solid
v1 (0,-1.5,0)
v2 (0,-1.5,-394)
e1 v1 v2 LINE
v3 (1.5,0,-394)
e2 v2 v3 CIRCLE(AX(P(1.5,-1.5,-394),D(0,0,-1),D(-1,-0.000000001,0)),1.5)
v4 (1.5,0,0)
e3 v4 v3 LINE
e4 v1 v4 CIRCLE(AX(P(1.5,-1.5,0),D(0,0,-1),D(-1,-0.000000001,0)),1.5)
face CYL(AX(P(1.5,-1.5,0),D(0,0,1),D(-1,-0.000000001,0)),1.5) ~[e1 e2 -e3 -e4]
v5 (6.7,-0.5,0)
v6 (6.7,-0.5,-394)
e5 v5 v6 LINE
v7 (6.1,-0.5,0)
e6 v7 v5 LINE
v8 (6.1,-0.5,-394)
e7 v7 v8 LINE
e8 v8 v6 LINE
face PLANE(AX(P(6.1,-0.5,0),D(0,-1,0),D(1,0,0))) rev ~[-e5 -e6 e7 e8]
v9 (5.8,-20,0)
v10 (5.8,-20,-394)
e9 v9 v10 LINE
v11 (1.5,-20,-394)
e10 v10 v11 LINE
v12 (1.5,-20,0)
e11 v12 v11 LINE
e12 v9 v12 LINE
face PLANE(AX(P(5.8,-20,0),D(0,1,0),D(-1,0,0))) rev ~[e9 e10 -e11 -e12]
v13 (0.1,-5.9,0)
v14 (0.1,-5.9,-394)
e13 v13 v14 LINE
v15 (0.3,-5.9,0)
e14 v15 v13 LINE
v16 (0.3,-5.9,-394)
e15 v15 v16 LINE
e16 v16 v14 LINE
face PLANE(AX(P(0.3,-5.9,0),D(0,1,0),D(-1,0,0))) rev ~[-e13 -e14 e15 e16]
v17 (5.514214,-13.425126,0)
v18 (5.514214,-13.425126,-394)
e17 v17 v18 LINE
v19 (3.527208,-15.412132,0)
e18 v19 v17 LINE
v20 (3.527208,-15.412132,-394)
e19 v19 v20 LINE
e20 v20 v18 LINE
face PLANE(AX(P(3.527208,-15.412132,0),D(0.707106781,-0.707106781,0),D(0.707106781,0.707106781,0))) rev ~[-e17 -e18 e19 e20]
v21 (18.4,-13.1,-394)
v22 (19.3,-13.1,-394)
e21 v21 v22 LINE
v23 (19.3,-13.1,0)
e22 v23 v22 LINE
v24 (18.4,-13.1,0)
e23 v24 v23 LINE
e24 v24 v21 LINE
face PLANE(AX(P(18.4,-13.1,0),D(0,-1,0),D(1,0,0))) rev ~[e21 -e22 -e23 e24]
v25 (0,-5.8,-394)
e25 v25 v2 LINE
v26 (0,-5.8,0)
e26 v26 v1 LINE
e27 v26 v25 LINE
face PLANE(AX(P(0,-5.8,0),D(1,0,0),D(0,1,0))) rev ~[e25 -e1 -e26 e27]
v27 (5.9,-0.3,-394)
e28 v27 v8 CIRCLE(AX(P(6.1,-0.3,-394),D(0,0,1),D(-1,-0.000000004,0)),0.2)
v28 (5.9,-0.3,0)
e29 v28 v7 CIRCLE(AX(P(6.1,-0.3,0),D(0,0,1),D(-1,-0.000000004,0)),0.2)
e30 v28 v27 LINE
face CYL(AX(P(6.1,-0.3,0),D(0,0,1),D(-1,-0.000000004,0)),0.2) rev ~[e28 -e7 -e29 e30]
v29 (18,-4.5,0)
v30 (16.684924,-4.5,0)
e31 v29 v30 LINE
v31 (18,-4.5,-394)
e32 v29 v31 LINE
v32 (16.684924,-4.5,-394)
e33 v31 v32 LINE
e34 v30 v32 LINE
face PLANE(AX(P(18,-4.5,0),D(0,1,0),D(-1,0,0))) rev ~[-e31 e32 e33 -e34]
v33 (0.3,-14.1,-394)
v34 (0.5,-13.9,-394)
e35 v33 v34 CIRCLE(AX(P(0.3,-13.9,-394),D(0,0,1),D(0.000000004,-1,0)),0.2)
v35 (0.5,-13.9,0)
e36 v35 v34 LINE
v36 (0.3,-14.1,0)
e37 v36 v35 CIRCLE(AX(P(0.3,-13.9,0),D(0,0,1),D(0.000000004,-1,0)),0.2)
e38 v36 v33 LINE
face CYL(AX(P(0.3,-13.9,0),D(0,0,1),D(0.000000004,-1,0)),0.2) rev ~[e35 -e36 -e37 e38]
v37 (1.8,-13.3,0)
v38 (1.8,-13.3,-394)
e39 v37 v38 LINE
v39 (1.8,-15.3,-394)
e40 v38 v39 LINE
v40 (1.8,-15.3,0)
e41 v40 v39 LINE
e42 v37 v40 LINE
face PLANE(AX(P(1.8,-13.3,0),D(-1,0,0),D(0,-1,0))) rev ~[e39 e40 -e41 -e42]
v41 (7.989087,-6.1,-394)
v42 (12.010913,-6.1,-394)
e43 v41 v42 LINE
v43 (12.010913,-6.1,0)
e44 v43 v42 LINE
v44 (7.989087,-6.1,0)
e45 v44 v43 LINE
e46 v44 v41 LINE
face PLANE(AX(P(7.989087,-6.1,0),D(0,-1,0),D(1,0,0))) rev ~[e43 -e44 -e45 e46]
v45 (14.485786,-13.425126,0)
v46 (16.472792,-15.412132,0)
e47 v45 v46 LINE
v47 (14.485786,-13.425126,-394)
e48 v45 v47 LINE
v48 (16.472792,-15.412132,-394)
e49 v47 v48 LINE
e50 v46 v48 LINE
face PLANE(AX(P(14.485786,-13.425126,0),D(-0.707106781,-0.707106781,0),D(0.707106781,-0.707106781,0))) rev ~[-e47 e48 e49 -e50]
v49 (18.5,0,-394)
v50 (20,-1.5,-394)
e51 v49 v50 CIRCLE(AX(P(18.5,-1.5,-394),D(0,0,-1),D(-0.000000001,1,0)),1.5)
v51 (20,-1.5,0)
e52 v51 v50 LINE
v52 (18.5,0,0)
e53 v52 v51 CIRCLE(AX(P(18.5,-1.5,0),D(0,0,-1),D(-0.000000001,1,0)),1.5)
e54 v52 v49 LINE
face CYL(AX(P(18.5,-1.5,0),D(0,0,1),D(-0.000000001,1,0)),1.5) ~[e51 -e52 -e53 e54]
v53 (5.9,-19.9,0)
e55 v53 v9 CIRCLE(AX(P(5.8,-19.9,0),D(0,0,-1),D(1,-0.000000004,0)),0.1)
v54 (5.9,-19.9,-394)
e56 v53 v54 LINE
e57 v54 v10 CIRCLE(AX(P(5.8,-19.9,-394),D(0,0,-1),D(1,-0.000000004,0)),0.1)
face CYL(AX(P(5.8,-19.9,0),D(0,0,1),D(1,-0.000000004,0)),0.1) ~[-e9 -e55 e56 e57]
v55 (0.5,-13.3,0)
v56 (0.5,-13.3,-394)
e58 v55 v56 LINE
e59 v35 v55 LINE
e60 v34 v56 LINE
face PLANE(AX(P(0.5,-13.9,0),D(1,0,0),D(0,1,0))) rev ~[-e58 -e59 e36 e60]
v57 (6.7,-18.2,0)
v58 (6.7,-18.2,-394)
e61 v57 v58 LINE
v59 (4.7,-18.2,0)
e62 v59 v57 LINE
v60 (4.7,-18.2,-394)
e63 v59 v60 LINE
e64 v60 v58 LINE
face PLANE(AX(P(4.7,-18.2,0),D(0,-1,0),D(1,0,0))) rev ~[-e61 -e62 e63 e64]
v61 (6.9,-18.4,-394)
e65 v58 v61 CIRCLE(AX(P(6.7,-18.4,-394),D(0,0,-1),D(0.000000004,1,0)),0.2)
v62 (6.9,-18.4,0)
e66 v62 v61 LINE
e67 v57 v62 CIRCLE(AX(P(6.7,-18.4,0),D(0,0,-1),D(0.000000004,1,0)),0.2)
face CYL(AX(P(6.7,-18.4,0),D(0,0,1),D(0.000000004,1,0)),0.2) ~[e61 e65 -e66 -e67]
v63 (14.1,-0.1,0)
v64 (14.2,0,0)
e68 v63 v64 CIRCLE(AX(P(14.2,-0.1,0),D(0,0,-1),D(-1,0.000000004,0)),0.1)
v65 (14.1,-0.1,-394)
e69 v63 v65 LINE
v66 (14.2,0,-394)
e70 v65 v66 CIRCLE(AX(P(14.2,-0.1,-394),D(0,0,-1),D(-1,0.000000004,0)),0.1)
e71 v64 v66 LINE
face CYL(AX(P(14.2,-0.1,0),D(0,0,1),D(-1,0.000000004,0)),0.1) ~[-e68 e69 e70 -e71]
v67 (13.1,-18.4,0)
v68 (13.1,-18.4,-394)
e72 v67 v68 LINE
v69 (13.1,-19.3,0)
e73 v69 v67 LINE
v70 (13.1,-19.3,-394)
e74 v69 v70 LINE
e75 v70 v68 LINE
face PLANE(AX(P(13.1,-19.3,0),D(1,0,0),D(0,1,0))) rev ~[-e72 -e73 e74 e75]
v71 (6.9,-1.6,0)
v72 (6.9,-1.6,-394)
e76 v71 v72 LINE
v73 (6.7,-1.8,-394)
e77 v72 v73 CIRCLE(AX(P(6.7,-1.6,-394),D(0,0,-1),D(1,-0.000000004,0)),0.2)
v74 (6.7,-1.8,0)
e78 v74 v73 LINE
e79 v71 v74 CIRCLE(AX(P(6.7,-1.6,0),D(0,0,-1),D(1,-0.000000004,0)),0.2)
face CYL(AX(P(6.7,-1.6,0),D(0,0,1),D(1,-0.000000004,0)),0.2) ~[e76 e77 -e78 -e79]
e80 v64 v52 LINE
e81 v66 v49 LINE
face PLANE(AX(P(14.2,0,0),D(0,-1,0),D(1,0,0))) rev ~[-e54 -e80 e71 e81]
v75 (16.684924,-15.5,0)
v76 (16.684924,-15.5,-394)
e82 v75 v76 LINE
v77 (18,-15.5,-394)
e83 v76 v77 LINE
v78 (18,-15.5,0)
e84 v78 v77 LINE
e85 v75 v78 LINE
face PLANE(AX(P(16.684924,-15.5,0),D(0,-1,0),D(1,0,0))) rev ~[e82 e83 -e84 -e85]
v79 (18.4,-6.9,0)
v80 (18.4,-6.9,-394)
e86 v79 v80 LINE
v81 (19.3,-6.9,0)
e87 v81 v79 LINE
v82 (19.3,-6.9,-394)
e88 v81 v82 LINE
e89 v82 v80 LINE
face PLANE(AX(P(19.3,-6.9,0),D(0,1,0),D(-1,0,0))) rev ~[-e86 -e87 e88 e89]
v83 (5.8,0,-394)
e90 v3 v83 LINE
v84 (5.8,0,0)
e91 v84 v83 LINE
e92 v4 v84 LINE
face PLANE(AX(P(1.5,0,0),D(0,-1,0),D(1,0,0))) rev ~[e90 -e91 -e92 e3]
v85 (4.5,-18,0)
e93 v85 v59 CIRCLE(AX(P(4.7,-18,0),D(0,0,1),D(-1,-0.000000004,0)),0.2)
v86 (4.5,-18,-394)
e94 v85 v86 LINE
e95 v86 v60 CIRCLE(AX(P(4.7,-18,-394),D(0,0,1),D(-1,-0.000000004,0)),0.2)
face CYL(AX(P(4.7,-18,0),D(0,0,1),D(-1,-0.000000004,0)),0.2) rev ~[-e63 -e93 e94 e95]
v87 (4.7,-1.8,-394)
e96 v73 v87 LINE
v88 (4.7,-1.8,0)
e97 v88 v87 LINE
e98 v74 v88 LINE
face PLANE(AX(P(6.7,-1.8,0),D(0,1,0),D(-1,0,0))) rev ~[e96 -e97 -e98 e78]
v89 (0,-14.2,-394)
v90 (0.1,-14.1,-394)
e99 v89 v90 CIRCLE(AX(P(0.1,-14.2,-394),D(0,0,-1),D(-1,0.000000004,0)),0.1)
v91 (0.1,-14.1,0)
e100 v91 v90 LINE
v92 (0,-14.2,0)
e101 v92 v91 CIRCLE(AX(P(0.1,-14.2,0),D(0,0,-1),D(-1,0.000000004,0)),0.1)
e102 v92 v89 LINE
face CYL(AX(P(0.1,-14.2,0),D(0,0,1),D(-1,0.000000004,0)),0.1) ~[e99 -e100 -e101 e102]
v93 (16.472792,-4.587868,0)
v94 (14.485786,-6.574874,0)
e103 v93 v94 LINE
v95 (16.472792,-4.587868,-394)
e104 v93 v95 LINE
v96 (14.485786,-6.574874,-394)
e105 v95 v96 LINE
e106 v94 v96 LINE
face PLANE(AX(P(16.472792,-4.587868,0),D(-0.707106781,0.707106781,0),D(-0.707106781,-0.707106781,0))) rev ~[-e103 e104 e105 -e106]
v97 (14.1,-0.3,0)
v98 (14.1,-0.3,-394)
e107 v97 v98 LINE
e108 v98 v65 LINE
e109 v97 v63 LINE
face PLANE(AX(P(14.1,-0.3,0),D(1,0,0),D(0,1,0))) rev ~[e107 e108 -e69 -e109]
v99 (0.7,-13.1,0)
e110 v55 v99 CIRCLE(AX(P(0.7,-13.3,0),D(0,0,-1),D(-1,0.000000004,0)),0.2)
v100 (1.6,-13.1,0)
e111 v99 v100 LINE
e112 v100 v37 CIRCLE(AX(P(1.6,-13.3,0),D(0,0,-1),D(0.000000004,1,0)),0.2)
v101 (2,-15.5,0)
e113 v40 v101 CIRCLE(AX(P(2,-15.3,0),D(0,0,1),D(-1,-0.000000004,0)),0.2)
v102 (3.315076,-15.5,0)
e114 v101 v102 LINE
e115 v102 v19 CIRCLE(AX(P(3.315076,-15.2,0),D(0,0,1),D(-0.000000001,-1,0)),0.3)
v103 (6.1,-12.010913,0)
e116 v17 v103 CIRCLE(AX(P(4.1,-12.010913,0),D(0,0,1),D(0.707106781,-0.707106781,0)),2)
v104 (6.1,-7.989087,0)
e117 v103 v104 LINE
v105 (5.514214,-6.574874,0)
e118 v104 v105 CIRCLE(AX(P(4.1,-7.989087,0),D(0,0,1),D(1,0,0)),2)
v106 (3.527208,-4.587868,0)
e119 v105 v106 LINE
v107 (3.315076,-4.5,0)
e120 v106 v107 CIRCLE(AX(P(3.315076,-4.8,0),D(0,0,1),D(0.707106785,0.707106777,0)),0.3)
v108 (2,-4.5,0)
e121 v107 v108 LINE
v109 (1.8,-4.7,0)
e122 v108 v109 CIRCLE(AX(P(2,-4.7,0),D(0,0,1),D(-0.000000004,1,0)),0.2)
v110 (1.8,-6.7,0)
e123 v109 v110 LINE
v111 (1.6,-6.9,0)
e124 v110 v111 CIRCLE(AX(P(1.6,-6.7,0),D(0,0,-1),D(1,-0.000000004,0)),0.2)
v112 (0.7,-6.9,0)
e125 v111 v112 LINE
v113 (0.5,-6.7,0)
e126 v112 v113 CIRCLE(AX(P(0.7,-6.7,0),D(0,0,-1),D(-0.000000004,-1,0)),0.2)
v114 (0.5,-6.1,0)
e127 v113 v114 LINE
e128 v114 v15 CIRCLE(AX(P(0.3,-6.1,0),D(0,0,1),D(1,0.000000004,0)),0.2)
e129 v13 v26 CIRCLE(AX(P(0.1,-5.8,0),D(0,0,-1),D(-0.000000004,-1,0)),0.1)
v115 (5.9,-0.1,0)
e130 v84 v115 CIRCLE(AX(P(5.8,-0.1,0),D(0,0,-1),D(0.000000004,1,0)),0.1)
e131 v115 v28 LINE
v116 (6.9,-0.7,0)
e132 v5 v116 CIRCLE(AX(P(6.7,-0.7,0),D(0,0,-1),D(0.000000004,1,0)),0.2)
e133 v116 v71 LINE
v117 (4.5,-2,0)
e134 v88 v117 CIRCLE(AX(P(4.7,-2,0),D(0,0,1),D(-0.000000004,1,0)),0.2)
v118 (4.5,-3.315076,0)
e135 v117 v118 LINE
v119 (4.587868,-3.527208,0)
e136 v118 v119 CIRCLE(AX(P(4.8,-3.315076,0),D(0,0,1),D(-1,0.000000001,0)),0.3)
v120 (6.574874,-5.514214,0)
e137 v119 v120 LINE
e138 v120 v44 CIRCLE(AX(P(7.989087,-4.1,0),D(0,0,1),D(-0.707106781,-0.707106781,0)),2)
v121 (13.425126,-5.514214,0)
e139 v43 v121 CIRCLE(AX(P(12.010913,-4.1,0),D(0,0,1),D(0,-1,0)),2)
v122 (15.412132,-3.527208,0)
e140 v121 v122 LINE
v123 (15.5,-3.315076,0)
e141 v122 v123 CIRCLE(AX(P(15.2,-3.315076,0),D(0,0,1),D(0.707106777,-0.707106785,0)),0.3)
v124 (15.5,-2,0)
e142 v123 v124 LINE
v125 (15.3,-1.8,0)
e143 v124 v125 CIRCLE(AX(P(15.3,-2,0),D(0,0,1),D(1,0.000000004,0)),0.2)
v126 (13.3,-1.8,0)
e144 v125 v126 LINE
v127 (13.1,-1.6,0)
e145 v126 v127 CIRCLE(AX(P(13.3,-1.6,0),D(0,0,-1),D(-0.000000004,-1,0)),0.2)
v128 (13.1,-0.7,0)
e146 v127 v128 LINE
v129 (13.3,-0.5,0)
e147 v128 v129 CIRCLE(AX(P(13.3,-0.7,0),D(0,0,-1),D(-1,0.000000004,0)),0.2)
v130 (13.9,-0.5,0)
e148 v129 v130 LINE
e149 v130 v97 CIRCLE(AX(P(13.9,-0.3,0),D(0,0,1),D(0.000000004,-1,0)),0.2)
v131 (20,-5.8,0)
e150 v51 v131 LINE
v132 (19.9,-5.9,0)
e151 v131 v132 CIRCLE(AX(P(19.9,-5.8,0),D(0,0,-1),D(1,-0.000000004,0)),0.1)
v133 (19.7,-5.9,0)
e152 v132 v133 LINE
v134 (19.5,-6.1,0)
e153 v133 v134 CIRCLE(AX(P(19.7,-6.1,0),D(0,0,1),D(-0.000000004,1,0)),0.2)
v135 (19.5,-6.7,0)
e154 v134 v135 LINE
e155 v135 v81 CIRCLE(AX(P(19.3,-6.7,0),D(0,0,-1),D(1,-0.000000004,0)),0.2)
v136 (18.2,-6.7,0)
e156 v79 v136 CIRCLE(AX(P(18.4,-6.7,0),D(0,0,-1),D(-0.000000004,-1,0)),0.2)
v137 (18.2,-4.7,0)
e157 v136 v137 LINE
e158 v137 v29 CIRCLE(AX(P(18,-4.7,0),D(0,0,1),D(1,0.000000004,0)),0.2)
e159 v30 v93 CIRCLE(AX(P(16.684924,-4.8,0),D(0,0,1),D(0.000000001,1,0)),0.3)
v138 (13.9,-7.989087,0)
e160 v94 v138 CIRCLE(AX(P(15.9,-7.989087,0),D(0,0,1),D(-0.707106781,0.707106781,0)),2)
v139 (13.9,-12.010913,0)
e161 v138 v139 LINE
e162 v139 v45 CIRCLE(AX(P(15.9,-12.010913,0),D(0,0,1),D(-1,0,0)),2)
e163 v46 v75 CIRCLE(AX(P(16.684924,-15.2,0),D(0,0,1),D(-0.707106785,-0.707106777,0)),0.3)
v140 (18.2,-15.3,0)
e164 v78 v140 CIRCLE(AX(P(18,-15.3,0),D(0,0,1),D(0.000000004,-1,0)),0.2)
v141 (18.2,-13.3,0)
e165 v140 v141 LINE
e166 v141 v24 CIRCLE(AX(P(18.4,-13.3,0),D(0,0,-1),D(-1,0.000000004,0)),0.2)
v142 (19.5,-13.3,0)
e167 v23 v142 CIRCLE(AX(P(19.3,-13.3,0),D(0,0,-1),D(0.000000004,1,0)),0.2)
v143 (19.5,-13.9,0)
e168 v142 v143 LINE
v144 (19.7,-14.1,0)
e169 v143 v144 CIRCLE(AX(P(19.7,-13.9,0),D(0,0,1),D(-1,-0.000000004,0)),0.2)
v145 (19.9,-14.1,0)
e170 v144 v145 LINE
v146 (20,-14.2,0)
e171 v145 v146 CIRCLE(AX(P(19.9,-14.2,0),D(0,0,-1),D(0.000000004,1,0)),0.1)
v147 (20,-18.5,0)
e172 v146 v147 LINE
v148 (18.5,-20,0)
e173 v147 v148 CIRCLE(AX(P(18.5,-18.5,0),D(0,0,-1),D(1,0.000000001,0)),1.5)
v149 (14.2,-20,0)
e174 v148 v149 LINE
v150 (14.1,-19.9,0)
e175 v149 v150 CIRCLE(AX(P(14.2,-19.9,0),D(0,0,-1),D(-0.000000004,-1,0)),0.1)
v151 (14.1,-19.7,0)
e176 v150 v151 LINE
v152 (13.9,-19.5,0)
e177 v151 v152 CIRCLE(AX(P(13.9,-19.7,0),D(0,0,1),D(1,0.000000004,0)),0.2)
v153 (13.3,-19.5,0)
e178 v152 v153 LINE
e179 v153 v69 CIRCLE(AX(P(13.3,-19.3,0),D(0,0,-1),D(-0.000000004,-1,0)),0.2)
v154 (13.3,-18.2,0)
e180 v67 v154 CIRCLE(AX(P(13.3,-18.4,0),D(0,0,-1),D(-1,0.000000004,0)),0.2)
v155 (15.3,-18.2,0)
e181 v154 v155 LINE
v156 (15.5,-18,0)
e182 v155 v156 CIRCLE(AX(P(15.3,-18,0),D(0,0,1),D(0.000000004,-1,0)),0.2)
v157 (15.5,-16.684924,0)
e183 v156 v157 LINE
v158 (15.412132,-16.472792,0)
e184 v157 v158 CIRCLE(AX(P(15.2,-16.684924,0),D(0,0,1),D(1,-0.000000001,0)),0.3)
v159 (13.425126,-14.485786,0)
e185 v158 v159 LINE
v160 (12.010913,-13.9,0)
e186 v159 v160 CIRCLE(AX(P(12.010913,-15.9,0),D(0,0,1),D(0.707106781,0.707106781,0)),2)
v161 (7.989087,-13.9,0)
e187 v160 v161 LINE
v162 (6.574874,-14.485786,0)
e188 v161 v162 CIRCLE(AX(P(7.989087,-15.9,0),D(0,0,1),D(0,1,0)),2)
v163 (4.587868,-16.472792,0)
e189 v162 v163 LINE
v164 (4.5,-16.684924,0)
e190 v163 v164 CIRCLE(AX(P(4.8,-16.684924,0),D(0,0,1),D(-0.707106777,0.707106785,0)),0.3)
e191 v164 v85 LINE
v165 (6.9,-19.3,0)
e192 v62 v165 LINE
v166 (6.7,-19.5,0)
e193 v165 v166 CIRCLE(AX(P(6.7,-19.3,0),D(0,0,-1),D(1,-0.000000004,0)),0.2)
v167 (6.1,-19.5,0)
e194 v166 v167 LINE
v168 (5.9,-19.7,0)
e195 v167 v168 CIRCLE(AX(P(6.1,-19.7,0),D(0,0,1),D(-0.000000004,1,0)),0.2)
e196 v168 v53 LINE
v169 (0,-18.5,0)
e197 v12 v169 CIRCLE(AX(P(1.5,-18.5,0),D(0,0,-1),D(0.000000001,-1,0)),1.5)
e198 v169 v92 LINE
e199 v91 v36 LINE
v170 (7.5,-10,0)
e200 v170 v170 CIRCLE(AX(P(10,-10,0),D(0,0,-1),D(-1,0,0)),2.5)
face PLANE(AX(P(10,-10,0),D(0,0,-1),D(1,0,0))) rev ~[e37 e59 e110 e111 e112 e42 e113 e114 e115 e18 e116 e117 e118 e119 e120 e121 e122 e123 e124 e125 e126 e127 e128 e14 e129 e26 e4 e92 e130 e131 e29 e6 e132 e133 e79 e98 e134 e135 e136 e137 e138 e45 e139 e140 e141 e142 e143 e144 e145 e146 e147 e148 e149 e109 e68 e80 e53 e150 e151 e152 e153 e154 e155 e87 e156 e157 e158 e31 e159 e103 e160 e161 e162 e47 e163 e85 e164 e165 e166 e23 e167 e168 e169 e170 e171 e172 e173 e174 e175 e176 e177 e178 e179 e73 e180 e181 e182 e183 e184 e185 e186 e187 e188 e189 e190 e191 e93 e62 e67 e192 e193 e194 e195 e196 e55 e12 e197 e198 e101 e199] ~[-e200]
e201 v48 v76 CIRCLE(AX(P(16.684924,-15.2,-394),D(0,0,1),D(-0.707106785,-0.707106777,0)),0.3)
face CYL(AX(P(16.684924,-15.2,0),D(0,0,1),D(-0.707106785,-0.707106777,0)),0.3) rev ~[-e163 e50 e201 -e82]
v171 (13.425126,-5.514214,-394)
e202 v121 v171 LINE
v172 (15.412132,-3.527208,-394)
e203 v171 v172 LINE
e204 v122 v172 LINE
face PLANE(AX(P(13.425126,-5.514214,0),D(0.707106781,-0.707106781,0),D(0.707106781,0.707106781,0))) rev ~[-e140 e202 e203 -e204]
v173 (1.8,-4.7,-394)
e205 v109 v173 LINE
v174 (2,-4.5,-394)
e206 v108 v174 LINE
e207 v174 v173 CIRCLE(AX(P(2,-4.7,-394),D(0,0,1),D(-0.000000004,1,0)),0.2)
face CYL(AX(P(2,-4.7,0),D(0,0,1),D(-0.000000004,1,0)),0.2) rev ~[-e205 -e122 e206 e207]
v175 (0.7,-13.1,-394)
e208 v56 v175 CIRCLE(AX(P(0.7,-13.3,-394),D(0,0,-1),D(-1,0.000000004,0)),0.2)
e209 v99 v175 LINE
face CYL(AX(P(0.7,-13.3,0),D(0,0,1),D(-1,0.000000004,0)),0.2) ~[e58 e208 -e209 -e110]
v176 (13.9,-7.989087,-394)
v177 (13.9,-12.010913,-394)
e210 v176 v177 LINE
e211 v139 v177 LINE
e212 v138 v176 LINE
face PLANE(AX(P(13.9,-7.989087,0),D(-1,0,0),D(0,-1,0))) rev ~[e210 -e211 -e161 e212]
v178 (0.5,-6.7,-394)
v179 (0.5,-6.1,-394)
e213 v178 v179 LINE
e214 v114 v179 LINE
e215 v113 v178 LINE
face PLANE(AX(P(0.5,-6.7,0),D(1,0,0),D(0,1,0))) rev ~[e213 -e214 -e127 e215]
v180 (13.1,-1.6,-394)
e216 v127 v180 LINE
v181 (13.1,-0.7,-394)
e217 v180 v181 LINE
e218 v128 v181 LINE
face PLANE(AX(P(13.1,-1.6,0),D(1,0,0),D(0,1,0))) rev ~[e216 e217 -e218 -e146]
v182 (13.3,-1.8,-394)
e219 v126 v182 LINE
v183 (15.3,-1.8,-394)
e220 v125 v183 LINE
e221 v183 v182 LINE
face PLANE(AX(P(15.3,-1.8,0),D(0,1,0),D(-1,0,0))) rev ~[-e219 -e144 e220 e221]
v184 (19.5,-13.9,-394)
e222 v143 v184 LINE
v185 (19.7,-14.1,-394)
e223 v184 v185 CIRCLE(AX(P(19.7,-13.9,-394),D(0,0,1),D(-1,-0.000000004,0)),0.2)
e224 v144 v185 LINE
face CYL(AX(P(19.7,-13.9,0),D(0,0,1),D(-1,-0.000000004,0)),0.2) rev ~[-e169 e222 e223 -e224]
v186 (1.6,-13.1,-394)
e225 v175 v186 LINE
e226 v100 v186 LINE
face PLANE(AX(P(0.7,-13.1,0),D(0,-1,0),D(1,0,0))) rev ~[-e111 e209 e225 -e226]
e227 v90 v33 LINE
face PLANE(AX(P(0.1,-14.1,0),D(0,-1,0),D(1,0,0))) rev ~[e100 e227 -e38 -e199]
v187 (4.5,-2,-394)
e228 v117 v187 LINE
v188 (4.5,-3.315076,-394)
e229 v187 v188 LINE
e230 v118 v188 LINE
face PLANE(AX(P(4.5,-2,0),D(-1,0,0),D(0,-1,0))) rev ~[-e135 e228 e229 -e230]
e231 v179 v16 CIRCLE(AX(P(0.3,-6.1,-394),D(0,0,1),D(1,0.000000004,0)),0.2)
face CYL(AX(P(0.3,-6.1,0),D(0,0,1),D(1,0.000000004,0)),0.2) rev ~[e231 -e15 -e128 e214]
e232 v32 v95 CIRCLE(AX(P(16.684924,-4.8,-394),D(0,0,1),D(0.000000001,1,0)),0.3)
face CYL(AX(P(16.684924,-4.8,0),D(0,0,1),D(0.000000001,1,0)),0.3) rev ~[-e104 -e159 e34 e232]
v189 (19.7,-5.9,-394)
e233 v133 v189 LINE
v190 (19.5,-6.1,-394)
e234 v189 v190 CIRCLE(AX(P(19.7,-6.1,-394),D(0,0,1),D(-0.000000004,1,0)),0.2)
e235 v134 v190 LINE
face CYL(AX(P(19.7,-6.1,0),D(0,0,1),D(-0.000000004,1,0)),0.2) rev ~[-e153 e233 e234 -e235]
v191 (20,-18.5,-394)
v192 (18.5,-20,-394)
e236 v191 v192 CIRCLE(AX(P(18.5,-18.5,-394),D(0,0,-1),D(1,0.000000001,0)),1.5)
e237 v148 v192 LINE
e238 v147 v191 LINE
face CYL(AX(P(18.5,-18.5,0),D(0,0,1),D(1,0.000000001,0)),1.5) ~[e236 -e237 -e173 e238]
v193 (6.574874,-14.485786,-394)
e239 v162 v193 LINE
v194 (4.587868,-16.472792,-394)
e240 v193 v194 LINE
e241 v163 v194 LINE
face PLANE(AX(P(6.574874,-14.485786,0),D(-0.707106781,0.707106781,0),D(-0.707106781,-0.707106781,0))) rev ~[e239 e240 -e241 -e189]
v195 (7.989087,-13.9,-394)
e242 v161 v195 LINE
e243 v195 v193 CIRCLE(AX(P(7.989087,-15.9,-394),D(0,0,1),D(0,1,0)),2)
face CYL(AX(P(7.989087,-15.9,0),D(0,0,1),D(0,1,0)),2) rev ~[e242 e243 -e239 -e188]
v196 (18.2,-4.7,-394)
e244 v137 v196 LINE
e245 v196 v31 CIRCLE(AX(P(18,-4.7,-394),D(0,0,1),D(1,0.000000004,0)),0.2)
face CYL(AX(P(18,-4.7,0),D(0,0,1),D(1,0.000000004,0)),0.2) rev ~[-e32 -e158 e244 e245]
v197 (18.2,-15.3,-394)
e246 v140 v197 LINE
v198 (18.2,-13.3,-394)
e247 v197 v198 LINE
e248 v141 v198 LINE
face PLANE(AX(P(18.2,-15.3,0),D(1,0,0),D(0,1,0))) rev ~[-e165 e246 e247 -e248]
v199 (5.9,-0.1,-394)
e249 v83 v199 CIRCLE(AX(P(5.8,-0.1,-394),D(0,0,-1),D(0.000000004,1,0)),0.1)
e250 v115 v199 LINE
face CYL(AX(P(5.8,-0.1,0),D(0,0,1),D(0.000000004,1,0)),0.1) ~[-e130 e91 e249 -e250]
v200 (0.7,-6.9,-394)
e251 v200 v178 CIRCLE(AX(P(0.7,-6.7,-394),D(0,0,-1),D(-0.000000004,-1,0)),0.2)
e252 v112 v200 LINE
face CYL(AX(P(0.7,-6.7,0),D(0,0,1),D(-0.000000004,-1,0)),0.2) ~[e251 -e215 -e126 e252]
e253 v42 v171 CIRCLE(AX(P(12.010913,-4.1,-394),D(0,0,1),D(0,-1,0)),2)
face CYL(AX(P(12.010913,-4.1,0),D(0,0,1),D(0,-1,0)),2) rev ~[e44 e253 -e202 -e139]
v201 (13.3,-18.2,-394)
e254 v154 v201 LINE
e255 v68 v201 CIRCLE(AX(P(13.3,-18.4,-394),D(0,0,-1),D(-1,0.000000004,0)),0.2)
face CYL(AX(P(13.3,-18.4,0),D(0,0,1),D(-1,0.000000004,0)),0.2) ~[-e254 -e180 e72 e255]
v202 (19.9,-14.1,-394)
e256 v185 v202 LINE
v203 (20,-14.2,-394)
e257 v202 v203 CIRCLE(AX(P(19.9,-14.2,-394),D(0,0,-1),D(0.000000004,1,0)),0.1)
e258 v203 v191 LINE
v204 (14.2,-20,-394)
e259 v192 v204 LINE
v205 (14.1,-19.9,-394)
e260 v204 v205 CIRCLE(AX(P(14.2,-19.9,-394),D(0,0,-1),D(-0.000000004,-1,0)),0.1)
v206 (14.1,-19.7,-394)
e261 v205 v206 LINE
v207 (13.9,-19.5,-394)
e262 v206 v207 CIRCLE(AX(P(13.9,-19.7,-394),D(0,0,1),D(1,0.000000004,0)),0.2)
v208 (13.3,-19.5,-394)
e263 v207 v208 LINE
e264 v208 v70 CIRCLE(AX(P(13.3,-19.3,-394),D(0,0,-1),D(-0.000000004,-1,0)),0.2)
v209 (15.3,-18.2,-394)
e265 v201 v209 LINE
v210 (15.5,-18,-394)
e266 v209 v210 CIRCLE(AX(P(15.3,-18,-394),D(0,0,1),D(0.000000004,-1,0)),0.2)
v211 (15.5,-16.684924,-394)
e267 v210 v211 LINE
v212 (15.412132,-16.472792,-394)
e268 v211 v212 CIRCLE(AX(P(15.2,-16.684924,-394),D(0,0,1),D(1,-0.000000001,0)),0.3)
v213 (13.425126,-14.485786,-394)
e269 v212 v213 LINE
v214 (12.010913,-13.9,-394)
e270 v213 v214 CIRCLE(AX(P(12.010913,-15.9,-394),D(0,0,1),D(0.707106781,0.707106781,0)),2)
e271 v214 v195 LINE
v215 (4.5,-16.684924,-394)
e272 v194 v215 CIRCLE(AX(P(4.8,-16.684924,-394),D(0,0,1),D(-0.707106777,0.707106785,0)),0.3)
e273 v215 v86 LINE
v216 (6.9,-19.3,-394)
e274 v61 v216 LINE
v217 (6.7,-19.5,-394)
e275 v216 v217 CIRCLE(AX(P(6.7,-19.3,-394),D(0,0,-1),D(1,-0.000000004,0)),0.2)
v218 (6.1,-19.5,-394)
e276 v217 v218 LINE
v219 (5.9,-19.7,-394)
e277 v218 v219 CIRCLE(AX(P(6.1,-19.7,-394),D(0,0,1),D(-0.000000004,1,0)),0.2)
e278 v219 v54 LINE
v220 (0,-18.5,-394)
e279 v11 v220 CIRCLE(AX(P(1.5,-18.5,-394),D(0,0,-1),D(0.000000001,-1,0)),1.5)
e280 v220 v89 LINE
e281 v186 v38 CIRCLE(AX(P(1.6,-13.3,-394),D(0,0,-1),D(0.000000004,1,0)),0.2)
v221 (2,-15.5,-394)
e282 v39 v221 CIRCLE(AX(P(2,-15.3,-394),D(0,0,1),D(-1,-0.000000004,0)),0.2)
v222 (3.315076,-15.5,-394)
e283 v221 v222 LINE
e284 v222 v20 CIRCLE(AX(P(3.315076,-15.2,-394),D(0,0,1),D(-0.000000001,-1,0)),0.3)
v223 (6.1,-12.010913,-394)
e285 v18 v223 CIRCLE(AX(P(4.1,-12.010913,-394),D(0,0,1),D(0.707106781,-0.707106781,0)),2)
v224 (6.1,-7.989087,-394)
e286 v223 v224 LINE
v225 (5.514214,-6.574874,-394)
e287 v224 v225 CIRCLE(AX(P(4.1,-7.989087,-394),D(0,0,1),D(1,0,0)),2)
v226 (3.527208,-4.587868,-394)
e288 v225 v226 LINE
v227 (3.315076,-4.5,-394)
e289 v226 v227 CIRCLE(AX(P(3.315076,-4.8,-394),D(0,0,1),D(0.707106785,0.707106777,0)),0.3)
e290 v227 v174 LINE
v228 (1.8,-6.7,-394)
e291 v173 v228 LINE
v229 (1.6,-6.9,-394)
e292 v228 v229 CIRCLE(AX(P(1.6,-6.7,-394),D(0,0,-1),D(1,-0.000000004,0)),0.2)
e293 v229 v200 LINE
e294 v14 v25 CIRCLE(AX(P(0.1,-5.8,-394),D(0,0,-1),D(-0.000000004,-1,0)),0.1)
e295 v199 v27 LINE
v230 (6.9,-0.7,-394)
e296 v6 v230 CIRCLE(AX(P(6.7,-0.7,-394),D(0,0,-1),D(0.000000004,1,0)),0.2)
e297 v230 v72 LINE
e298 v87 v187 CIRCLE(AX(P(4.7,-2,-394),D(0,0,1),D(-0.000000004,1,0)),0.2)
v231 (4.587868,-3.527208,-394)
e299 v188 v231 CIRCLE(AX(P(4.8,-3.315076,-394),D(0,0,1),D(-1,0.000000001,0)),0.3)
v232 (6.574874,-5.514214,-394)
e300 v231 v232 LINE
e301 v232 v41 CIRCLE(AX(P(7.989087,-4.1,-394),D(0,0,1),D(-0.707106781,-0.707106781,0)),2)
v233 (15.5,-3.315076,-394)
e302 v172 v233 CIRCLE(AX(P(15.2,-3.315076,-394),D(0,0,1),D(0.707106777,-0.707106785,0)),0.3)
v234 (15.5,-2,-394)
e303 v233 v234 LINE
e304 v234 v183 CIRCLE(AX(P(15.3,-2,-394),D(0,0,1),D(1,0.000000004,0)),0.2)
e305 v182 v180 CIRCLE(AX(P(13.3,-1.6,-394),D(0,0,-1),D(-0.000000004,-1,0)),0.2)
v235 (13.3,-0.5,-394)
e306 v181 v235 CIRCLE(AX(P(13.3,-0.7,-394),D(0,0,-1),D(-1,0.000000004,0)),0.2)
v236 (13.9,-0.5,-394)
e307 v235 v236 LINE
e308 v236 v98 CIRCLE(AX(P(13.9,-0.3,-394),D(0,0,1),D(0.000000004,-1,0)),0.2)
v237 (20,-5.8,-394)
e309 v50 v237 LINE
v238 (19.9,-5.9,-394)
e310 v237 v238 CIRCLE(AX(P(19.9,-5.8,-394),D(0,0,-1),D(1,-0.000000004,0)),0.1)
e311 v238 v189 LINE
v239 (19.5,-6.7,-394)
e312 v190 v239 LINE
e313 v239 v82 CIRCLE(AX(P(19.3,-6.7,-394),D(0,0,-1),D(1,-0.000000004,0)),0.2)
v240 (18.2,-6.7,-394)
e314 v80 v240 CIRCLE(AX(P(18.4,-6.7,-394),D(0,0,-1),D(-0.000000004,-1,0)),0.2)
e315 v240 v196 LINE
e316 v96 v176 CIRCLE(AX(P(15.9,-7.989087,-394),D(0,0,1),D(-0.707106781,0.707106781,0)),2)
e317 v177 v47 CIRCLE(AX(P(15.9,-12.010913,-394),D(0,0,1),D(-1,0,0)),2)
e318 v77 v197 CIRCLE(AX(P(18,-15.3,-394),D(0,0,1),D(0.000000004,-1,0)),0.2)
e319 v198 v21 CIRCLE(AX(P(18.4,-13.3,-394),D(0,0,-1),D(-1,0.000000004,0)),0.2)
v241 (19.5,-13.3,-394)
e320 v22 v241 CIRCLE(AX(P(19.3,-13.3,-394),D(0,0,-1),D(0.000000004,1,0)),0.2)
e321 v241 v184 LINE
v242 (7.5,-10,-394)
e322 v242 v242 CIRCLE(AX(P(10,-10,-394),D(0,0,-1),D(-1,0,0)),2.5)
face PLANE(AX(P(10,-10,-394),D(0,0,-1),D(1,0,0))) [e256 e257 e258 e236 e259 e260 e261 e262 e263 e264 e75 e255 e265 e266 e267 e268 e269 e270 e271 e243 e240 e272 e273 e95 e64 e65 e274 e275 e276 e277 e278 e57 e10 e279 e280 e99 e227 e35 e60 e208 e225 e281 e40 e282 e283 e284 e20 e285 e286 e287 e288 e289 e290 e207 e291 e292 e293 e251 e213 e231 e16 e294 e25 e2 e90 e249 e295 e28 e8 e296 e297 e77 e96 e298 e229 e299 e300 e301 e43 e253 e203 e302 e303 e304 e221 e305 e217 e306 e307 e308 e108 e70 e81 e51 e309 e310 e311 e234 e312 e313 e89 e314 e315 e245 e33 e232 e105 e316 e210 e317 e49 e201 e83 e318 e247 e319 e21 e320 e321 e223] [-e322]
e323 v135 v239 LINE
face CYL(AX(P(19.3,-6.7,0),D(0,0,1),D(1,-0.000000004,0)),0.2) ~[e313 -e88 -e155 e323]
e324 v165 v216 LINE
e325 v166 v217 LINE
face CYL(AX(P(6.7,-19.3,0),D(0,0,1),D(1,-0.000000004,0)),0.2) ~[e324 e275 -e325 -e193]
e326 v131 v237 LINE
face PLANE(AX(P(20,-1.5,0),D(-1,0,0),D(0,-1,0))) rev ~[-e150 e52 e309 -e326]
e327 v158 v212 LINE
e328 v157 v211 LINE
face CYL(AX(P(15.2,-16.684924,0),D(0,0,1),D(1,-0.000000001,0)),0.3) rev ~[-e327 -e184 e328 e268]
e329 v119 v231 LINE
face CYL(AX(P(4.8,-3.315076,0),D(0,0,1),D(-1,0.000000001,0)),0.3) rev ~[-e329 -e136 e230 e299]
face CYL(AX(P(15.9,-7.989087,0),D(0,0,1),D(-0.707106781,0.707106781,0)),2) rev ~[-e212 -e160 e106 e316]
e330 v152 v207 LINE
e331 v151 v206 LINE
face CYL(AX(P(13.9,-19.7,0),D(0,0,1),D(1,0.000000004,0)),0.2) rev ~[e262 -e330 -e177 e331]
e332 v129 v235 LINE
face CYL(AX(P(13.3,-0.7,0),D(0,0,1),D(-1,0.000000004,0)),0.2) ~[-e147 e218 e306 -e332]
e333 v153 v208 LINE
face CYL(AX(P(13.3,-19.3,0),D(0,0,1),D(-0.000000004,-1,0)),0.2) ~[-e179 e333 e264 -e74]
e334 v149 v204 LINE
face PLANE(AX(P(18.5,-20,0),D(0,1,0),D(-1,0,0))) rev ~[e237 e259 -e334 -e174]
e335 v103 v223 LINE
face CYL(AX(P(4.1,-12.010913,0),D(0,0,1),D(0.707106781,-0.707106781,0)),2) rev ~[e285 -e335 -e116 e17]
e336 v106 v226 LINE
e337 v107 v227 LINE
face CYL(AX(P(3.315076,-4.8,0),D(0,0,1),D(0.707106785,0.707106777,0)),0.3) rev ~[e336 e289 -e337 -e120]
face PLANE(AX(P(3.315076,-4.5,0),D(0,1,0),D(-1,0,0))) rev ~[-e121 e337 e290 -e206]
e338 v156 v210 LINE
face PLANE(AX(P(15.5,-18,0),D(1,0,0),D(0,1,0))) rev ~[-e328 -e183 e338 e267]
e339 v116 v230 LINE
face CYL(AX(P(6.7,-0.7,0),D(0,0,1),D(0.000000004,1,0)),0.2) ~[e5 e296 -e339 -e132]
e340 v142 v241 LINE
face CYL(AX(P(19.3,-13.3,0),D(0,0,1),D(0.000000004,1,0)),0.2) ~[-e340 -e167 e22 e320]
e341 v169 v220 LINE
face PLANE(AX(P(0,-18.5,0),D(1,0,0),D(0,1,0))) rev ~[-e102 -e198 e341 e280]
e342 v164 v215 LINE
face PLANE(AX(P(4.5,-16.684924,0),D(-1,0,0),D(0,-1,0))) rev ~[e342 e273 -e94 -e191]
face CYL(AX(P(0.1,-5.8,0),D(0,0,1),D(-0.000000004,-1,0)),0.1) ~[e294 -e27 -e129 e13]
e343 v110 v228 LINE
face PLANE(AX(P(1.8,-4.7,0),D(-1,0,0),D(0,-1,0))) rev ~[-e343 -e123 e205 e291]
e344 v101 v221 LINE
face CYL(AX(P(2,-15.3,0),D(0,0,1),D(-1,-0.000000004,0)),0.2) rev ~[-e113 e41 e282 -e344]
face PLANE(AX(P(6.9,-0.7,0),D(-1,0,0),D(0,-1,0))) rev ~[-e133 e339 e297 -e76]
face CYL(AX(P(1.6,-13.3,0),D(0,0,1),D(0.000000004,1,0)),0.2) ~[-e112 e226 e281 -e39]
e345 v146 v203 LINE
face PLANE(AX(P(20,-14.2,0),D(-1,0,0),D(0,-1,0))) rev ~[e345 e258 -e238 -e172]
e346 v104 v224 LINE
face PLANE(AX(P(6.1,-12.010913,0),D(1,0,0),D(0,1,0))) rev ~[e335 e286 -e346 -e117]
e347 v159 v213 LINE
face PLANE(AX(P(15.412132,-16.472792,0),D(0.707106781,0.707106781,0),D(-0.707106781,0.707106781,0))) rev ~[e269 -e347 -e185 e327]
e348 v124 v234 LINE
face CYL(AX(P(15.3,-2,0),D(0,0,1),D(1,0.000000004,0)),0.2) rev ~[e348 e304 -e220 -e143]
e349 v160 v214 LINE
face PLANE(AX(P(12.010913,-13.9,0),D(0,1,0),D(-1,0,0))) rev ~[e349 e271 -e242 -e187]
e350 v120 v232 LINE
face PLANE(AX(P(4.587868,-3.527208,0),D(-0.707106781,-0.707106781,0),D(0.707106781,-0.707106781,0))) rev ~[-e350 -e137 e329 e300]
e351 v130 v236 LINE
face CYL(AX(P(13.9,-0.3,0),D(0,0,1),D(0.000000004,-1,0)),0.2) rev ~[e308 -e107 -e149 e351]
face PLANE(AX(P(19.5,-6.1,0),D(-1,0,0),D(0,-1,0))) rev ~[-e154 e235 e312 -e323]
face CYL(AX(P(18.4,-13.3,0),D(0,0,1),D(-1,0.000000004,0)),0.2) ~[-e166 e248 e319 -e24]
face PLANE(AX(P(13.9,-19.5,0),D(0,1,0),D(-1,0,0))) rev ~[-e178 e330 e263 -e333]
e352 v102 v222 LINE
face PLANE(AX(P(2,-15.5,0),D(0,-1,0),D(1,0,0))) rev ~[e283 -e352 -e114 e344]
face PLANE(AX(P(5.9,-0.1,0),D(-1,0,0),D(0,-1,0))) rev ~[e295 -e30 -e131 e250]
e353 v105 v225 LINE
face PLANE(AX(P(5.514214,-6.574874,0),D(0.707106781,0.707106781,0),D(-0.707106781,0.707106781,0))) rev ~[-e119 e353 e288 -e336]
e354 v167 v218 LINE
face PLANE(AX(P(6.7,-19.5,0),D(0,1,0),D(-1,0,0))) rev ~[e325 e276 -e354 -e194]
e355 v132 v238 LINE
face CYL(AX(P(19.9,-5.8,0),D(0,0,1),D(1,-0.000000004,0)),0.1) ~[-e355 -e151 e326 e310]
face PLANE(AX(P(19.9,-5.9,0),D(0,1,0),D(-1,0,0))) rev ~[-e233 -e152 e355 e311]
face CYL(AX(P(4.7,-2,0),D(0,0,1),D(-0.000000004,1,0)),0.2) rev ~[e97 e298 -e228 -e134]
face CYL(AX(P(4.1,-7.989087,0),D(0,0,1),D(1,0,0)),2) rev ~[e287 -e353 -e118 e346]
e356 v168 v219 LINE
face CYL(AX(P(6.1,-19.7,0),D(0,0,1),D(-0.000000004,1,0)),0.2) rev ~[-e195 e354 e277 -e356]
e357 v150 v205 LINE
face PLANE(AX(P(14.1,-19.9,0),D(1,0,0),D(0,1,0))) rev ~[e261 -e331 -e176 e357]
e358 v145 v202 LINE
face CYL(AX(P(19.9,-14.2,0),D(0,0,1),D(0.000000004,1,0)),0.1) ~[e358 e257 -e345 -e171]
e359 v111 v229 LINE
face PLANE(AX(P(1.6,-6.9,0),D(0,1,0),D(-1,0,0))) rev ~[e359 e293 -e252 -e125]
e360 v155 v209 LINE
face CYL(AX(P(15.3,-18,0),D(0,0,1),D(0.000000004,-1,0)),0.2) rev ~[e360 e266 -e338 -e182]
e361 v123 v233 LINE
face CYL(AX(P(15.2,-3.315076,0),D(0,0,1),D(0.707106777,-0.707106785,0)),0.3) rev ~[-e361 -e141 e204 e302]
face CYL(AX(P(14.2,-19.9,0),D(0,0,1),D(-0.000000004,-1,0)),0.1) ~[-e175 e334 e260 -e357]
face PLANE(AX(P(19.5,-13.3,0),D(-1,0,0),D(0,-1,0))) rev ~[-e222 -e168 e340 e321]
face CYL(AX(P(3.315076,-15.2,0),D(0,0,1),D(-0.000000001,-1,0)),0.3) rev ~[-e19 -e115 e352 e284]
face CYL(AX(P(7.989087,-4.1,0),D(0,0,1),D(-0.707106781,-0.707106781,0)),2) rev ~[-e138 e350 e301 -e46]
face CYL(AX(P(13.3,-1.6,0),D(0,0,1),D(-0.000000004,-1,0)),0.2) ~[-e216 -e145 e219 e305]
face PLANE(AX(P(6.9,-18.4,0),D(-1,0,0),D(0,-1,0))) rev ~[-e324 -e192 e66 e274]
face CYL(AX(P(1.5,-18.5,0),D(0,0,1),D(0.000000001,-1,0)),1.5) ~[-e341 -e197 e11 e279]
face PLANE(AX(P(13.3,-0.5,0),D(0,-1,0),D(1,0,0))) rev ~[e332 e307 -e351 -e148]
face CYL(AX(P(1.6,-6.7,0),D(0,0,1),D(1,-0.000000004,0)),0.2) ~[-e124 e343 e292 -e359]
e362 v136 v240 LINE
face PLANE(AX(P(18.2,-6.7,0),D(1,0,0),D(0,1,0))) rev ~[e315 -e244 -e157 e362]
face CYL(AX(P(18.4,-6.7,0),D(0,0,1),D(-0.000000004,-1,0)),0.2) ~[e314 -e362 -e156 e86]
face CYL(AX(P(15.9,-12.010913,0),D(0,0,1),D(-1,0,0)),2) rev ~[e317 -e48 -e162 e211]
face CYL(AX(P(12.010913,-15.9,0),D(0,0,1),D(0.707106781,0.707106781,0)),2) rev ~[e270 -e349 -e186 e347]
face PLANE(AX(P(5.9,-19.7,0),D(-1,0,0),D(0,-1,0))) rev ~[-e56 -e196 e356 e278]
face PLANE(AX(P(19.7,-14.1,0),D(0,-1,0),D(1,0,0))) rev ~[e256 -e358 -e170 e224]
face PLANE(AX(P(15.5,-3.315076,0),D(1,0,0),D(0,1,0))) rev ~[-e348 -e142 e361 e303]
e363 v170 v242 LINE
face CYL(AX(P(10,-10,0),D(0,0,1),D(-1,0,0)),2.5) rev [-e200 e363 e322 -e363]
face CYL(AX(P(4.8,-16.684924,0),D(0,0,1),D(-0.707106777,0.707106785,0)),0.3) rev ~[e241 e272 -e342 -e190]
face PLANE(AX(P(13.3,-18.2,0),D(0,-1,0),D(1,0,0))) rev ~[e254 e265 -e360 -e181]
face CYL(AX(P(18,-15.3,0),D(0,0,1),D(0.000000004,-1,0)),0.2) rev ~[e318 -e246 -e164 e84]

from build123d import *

# Parameters (mm, degrees)
SKETCH1_R           = 2.5
BOSS_EXTRUDE1_DEPTH = 394


with BuildPart() as part:
    # Sketch1 → Boss-Extrude1 (new body)
    with BuildSketch(Plane(origin=(0, 0, 0), x_dir=(1, 0, 0), z_dir=(0, 0, -1))):
        with BuildLine():
            Line((1.5, 0), (5.8, 0))
            ThreePointArc((5.8, 0), (5.870710678, 0.029289322), (5.9, 0.1))
            Line((5.9, 0.1), (5.9, 0.3))
            ThreePointArc((5.9, 0.3), (5.958578644, 0.441421356), (6.1, 0.5))
            Line((6.1, 0.5), (6.7, 0.5))
            ThreePointArc((6.7, 0.5), (6.841421356, 0.558578644), (6.9, 0.7))
            Line((6.9, 0.7), (6.9, 1.6))
            ThreePointArc((6.9, 1.6), (6.841421356, 1.741421356), (6.7, 1.8))
            Line((6.7, 1.8), (4.7, 1.8))
            ThreePointArc((4.7, 1.8), (4.558578644, 1.858578644), (4.5, 2))
            Line((4.5, 2), (4.5, 3.31507576))
            ThreePointArc((4.5, 3.31507576), (4.52283614, 3.429880789), (4.587867966, 3.527207794))
            Line((4.587867966, 3.527207794), (6.574873734, 5.514213562))
            ThreePointArc((6.574873734, 5.514213562), (7.223720432, 5.947759065), (7.989087297, 6.1))
            Line((7.989087297, 6.1), (12.010912703, 6.1))
            ThreePointArc((12.010912703, 6.1), (12.776279568, 5.947759065), (13.425126266, 5.514213562))
            Line((13.425126266, 5.514213562), (15.412132034, 3.527207794))
            ThreePointArc((15.412132034, 3.527207794), (15.47716386, 3.429880789), (15.5, 3.31507576))
            Line((15.5, 3.31507576), (15.5, 2))
            ThreePointArc((15.5, 2), (15.441421356, 1.858578644), (15.3, 1.8))
            Line((15.3, 1.8), (13.3, 1.8))
            ThreePointArc((13.3, 1.8), (13.158578644, 1.741421356), (13.1, 1.6))
            Line((13.1, 1.6), (13.1, 0.7))
            ThreePointArc((13.1, 0.7), (13.158578644, 0.558578644), (13.3, 0.5))
            Line((13.3, 0.5), (13.9, 0.5))
            ThreePointArc((13.9, 0.5), (14.041421356, 0.441421356), (14.1, 0.3))
            Line((14.1, 0.3), (14.1, 0.1))
            ThreePointArc((14.1, 0.1), (14.129289322, 0.029289322), (14.2, 0))
            Line((14.2, 0), (18.5, 0))
            ThreePointArc((18.5, 0), (19.560660172, 0.439339828), (20, 1.5))
            Line((20, 1.5), (20, 5.8))
            ThreePointArc((20, 5.8), (19.970710678, 5.870710678), (19.9, 5.9))
            Line((19.9, 5.9), (19.7, 5.9))
            ThreePointArc((19.7, 5.9), (19.558578644, 5.958578644), (19.5, 6.1))
            Line((19.5, 6.1), (19.5, 6.7))
            ThreePointArc((19.5, 6.7), (19.441421356, 6.841421356), (19.3, 6.9))
            Line((19.3, 6.9), (18.4, 6.9))
            ThreePointArc((18.4, 6.9), (18.258578644, 6.841421356), (18.2, 6.7))
            Line((18.2, 6.7), (18.2, 4.7))
            ThreePointArc((18.2, 4.7), (18.141421356, 4.558578644), (18, 4.5))
            Line((18, 4.5), (16.68492424, 4.5))
            ThreePointArc((16.68492424, 4.5), (16.570119211, 4.52283614), (16.472792206, 4.587867966))
            Line((16.472792206, 4.587867966), (14.485786438, 6.574873734))
            ThreePointArc((14.485786438, 6.574873734), (14.052240935, 7.223720432), (13.9, 7.989087297))
            Line((13.9, 7.989087297), (13.9, 12.010912703))
            ThreePointArc((13.9, 12.010912703), (14.052240935, 12.776279568), (14.485786438, 13.425126266))
            Line((14.485786438, 13.425126266), (16.472792206, 15.412132034))
            ThreePointArc((16.472792206, 15.412132034), (16.570119211, 15.47716386), (16.68492424, 15.5))
            Line((16.68492424, 15.5), (18, 15.5))
            ThreePointArc((18, 15.5), (18.141421356, 15.441421356), (18.2, 15.3))
            Line((18.2, 15.3), (18.2, 13.3))
            ThreePointArc((18.2, 13.3), (18.258578644, 13.158578644), (18.4, 13.1))
            Line((18.4, 13.1), (19.3, 13.1))
            ThreePointArc((19.3, 13.1), (19.441421356, 13.158578644), (19.5, 13.3))
            Line((19.5, 13.3), (19.5, 13.9))
            ThreePointArc((19.5, 13.9), (19.558578644, 14.041421356), (19.7, 14.1))
            Line((19.7, 14.1), (19.9, 14.1))
            ThreePointArc((19.9, 14.1), (19.970710678, 14.129289322), (20, 14.2))
            Line((20, 14.2), (20, 18.5))
            ThreePointArc((20, 18.5), (19.560660172, 19.560660172), (18.5, 20))
            Line((18.5, 20), (14.2, 20))
            ThreePointArc((14.2, 20), (14.129289322, 19.970710678), (14.1, 19.9))
            Line((14.1, 19.9), (14.1, 19.7))
            ThreePointArc((14.1, 19.7), (14.041421356, 19.558578644), (13.9, 19.5))
            Line((13.9, 19.5), (13.3, 19.5))
            ThreePointArc((13.3, 19.5), (13.158578644, 19.441421356), (13.1, 19.3))
            Line((13.1, 19.3), (13.1, 18.4))
            ThreePointArc((13.1, 18.4), (13.158578644, 18.258578644), (13.3, 18.2))
            Line((13.3, 18.2), (15.3, 18.2))
            ThreePointArc((15.3, 18.2), (15.441421356, 18.141421356), (15.5, 18))
            Line((15.5, 18), (15.5, 16.68492424))
            ThreePointArc((15.5, 16.68492424), (15.47716386, 16.570119211), (15.412132034, 16.472792206))
            Line((15.412132034, 16.472792206), (13.425126266, 14.485786438))
            ThreePointArc((13.425126266, 14.485786438), (12.776279568, 14.052240935), (12.010912703, 13.9))
            Line((12.010912703, 13.9), (7.989087297, 13.9))
            ThreePointArc((7.989087297, 13.9), (7.223720432, 14.052240935), (6.574873734, 14.485786438))
            Line((6.574873734, 14.485786438), (4.587867966, 16.472792206))
            ThreePointArc((4.587867966, 16.472792206), (4.52283614, 16.570119211), (4.5, 16.68492424))
            Line((4.5, 16.68492424), (4.5, 18))
            ThreePointArc((4.5, 18), (4.558578644, 18.141421356), (4.7, 18.2))
            Line((4.7, 18.2), (6.7, 18.2))
            ThreePointArc((6.7, 18.2), (6.841421356, 18.258578644), (6.9, 18.4))
            Line((6.9, 18.4), (6.9, 19.3))
            ThreePointArc((6.9, 19.3), (6.841421356, 19.441421356), (6.7, 19.5))
            Line((6.7, 19.5), (6.1, 19.5))
            ThreePointArc((6.1, 19.5), (5.958578644, 19.558578644), (5.9, 19.7))
            Line((5.9, 19.7), (5.9, 19.9))
            ThreePointArc((5.9, 19.9), (5.870710678, 19.970710678), (5.8, 20))
            Line((5.8, 20), (1.5, 20))
            ThreePointArc((1.5, 20), (0.439339828, 19.560660172), (0, 18.5))
            Line((0, 18.5), (0, 14.2))
            ThreePointArc((0, 14.2), (0.029289322, 14.129289322), (0.1, 14.1))
            Line((0.1, 14.1), (0.3, 14.1))
            ThreePointArc((0.3, 14.1), (0.441421356, 14.041421356), (0.5, 13.9))
            Line((0.5, 13.9), (0.5, 13.3))
            ThreePointArc((0.5, 13.3), (0.558578644, 13.158578644), (0.7, 13.1))
            Line((0.7, 13.1), (1.6, 13.1))
            ThreePointArc((1.6, 13.1), (1.741421356, 13.158578644), (1.8, 13.3))
            Line((1.8, 13.3), (1.8, 15.3))
            ThreePointArc((1.8, 15.3), (1.858578644, 15.441421356), (2, 15.5))
            Line((2, 15.5), (3.31507576, 15.5))
            ThreePointArc((3.31507576, 15.5), (3.429880789, 15.47716386), (3.527207794, 15.412132034))
            Line((3.527207794, 15.412132034), (5.514213562, 13.425126266))
            ThreePointArc((5.514213562, 13.425126266), (5.947759065, 12.776279568), (6.1, 12.010912703))
            Line((6.1, 12.010912703), (6.1, 7.989087297))
            ThreePointArc((6.1, 7.989087297), (5.947759065, 7.223720432), (5.514213562, 6.574873734))
            Line((5.514213562, 6.574873734), (3.527207794, 4.587867966))
            ThreePointArc((3.527207794, 4.587867966), (3.429880789, 4.52283614), (3.31507576, 4.5))
            Line((3.31507576, 4.5), (2, 4.5))
            ThreePointArc((2, 4.5), (1.858578644, 4.558578644), (1.8, 4.7))
            Line((1.8, 4.7), (1.8, 6.7))
            ThreePointArc((1.8, 6.7), (1.741421356, 6.841421356), (1.6, 6.9))
            Line((1.6, 6.9), (0.7, 6.9))
            ThreePointArc((0.7, 6.9), (0.558578644, 6.841421356), (0.5, 6.7))
            Line((0.5, 6.7), (0.5, 6.1))
            ThreePointArc((0.5, 6.1), (0.441421356, 5.958578644), (0.3, 5.9))
            Line((0.3, 5.9), (0.1, 5.9))
            ThreePointArc((0.1, 5.9), (0.029289322, 5.870710678), (0, 5.8))
            Line((0, 5.8), (0, 1.5))
            ThreePointArc((0, 1.5), (0.439339828, 0.439339828), (1.5, 0))
        make_face()
        with Locations(Location((10, 10, 0), (0, 0, 180))):
            Circle(SKETCH1_R, mode=Mode.SUBTRACT)
    extrude(amount=BOSS_EXTRUDE1_DEPTH)


solid = part.part
